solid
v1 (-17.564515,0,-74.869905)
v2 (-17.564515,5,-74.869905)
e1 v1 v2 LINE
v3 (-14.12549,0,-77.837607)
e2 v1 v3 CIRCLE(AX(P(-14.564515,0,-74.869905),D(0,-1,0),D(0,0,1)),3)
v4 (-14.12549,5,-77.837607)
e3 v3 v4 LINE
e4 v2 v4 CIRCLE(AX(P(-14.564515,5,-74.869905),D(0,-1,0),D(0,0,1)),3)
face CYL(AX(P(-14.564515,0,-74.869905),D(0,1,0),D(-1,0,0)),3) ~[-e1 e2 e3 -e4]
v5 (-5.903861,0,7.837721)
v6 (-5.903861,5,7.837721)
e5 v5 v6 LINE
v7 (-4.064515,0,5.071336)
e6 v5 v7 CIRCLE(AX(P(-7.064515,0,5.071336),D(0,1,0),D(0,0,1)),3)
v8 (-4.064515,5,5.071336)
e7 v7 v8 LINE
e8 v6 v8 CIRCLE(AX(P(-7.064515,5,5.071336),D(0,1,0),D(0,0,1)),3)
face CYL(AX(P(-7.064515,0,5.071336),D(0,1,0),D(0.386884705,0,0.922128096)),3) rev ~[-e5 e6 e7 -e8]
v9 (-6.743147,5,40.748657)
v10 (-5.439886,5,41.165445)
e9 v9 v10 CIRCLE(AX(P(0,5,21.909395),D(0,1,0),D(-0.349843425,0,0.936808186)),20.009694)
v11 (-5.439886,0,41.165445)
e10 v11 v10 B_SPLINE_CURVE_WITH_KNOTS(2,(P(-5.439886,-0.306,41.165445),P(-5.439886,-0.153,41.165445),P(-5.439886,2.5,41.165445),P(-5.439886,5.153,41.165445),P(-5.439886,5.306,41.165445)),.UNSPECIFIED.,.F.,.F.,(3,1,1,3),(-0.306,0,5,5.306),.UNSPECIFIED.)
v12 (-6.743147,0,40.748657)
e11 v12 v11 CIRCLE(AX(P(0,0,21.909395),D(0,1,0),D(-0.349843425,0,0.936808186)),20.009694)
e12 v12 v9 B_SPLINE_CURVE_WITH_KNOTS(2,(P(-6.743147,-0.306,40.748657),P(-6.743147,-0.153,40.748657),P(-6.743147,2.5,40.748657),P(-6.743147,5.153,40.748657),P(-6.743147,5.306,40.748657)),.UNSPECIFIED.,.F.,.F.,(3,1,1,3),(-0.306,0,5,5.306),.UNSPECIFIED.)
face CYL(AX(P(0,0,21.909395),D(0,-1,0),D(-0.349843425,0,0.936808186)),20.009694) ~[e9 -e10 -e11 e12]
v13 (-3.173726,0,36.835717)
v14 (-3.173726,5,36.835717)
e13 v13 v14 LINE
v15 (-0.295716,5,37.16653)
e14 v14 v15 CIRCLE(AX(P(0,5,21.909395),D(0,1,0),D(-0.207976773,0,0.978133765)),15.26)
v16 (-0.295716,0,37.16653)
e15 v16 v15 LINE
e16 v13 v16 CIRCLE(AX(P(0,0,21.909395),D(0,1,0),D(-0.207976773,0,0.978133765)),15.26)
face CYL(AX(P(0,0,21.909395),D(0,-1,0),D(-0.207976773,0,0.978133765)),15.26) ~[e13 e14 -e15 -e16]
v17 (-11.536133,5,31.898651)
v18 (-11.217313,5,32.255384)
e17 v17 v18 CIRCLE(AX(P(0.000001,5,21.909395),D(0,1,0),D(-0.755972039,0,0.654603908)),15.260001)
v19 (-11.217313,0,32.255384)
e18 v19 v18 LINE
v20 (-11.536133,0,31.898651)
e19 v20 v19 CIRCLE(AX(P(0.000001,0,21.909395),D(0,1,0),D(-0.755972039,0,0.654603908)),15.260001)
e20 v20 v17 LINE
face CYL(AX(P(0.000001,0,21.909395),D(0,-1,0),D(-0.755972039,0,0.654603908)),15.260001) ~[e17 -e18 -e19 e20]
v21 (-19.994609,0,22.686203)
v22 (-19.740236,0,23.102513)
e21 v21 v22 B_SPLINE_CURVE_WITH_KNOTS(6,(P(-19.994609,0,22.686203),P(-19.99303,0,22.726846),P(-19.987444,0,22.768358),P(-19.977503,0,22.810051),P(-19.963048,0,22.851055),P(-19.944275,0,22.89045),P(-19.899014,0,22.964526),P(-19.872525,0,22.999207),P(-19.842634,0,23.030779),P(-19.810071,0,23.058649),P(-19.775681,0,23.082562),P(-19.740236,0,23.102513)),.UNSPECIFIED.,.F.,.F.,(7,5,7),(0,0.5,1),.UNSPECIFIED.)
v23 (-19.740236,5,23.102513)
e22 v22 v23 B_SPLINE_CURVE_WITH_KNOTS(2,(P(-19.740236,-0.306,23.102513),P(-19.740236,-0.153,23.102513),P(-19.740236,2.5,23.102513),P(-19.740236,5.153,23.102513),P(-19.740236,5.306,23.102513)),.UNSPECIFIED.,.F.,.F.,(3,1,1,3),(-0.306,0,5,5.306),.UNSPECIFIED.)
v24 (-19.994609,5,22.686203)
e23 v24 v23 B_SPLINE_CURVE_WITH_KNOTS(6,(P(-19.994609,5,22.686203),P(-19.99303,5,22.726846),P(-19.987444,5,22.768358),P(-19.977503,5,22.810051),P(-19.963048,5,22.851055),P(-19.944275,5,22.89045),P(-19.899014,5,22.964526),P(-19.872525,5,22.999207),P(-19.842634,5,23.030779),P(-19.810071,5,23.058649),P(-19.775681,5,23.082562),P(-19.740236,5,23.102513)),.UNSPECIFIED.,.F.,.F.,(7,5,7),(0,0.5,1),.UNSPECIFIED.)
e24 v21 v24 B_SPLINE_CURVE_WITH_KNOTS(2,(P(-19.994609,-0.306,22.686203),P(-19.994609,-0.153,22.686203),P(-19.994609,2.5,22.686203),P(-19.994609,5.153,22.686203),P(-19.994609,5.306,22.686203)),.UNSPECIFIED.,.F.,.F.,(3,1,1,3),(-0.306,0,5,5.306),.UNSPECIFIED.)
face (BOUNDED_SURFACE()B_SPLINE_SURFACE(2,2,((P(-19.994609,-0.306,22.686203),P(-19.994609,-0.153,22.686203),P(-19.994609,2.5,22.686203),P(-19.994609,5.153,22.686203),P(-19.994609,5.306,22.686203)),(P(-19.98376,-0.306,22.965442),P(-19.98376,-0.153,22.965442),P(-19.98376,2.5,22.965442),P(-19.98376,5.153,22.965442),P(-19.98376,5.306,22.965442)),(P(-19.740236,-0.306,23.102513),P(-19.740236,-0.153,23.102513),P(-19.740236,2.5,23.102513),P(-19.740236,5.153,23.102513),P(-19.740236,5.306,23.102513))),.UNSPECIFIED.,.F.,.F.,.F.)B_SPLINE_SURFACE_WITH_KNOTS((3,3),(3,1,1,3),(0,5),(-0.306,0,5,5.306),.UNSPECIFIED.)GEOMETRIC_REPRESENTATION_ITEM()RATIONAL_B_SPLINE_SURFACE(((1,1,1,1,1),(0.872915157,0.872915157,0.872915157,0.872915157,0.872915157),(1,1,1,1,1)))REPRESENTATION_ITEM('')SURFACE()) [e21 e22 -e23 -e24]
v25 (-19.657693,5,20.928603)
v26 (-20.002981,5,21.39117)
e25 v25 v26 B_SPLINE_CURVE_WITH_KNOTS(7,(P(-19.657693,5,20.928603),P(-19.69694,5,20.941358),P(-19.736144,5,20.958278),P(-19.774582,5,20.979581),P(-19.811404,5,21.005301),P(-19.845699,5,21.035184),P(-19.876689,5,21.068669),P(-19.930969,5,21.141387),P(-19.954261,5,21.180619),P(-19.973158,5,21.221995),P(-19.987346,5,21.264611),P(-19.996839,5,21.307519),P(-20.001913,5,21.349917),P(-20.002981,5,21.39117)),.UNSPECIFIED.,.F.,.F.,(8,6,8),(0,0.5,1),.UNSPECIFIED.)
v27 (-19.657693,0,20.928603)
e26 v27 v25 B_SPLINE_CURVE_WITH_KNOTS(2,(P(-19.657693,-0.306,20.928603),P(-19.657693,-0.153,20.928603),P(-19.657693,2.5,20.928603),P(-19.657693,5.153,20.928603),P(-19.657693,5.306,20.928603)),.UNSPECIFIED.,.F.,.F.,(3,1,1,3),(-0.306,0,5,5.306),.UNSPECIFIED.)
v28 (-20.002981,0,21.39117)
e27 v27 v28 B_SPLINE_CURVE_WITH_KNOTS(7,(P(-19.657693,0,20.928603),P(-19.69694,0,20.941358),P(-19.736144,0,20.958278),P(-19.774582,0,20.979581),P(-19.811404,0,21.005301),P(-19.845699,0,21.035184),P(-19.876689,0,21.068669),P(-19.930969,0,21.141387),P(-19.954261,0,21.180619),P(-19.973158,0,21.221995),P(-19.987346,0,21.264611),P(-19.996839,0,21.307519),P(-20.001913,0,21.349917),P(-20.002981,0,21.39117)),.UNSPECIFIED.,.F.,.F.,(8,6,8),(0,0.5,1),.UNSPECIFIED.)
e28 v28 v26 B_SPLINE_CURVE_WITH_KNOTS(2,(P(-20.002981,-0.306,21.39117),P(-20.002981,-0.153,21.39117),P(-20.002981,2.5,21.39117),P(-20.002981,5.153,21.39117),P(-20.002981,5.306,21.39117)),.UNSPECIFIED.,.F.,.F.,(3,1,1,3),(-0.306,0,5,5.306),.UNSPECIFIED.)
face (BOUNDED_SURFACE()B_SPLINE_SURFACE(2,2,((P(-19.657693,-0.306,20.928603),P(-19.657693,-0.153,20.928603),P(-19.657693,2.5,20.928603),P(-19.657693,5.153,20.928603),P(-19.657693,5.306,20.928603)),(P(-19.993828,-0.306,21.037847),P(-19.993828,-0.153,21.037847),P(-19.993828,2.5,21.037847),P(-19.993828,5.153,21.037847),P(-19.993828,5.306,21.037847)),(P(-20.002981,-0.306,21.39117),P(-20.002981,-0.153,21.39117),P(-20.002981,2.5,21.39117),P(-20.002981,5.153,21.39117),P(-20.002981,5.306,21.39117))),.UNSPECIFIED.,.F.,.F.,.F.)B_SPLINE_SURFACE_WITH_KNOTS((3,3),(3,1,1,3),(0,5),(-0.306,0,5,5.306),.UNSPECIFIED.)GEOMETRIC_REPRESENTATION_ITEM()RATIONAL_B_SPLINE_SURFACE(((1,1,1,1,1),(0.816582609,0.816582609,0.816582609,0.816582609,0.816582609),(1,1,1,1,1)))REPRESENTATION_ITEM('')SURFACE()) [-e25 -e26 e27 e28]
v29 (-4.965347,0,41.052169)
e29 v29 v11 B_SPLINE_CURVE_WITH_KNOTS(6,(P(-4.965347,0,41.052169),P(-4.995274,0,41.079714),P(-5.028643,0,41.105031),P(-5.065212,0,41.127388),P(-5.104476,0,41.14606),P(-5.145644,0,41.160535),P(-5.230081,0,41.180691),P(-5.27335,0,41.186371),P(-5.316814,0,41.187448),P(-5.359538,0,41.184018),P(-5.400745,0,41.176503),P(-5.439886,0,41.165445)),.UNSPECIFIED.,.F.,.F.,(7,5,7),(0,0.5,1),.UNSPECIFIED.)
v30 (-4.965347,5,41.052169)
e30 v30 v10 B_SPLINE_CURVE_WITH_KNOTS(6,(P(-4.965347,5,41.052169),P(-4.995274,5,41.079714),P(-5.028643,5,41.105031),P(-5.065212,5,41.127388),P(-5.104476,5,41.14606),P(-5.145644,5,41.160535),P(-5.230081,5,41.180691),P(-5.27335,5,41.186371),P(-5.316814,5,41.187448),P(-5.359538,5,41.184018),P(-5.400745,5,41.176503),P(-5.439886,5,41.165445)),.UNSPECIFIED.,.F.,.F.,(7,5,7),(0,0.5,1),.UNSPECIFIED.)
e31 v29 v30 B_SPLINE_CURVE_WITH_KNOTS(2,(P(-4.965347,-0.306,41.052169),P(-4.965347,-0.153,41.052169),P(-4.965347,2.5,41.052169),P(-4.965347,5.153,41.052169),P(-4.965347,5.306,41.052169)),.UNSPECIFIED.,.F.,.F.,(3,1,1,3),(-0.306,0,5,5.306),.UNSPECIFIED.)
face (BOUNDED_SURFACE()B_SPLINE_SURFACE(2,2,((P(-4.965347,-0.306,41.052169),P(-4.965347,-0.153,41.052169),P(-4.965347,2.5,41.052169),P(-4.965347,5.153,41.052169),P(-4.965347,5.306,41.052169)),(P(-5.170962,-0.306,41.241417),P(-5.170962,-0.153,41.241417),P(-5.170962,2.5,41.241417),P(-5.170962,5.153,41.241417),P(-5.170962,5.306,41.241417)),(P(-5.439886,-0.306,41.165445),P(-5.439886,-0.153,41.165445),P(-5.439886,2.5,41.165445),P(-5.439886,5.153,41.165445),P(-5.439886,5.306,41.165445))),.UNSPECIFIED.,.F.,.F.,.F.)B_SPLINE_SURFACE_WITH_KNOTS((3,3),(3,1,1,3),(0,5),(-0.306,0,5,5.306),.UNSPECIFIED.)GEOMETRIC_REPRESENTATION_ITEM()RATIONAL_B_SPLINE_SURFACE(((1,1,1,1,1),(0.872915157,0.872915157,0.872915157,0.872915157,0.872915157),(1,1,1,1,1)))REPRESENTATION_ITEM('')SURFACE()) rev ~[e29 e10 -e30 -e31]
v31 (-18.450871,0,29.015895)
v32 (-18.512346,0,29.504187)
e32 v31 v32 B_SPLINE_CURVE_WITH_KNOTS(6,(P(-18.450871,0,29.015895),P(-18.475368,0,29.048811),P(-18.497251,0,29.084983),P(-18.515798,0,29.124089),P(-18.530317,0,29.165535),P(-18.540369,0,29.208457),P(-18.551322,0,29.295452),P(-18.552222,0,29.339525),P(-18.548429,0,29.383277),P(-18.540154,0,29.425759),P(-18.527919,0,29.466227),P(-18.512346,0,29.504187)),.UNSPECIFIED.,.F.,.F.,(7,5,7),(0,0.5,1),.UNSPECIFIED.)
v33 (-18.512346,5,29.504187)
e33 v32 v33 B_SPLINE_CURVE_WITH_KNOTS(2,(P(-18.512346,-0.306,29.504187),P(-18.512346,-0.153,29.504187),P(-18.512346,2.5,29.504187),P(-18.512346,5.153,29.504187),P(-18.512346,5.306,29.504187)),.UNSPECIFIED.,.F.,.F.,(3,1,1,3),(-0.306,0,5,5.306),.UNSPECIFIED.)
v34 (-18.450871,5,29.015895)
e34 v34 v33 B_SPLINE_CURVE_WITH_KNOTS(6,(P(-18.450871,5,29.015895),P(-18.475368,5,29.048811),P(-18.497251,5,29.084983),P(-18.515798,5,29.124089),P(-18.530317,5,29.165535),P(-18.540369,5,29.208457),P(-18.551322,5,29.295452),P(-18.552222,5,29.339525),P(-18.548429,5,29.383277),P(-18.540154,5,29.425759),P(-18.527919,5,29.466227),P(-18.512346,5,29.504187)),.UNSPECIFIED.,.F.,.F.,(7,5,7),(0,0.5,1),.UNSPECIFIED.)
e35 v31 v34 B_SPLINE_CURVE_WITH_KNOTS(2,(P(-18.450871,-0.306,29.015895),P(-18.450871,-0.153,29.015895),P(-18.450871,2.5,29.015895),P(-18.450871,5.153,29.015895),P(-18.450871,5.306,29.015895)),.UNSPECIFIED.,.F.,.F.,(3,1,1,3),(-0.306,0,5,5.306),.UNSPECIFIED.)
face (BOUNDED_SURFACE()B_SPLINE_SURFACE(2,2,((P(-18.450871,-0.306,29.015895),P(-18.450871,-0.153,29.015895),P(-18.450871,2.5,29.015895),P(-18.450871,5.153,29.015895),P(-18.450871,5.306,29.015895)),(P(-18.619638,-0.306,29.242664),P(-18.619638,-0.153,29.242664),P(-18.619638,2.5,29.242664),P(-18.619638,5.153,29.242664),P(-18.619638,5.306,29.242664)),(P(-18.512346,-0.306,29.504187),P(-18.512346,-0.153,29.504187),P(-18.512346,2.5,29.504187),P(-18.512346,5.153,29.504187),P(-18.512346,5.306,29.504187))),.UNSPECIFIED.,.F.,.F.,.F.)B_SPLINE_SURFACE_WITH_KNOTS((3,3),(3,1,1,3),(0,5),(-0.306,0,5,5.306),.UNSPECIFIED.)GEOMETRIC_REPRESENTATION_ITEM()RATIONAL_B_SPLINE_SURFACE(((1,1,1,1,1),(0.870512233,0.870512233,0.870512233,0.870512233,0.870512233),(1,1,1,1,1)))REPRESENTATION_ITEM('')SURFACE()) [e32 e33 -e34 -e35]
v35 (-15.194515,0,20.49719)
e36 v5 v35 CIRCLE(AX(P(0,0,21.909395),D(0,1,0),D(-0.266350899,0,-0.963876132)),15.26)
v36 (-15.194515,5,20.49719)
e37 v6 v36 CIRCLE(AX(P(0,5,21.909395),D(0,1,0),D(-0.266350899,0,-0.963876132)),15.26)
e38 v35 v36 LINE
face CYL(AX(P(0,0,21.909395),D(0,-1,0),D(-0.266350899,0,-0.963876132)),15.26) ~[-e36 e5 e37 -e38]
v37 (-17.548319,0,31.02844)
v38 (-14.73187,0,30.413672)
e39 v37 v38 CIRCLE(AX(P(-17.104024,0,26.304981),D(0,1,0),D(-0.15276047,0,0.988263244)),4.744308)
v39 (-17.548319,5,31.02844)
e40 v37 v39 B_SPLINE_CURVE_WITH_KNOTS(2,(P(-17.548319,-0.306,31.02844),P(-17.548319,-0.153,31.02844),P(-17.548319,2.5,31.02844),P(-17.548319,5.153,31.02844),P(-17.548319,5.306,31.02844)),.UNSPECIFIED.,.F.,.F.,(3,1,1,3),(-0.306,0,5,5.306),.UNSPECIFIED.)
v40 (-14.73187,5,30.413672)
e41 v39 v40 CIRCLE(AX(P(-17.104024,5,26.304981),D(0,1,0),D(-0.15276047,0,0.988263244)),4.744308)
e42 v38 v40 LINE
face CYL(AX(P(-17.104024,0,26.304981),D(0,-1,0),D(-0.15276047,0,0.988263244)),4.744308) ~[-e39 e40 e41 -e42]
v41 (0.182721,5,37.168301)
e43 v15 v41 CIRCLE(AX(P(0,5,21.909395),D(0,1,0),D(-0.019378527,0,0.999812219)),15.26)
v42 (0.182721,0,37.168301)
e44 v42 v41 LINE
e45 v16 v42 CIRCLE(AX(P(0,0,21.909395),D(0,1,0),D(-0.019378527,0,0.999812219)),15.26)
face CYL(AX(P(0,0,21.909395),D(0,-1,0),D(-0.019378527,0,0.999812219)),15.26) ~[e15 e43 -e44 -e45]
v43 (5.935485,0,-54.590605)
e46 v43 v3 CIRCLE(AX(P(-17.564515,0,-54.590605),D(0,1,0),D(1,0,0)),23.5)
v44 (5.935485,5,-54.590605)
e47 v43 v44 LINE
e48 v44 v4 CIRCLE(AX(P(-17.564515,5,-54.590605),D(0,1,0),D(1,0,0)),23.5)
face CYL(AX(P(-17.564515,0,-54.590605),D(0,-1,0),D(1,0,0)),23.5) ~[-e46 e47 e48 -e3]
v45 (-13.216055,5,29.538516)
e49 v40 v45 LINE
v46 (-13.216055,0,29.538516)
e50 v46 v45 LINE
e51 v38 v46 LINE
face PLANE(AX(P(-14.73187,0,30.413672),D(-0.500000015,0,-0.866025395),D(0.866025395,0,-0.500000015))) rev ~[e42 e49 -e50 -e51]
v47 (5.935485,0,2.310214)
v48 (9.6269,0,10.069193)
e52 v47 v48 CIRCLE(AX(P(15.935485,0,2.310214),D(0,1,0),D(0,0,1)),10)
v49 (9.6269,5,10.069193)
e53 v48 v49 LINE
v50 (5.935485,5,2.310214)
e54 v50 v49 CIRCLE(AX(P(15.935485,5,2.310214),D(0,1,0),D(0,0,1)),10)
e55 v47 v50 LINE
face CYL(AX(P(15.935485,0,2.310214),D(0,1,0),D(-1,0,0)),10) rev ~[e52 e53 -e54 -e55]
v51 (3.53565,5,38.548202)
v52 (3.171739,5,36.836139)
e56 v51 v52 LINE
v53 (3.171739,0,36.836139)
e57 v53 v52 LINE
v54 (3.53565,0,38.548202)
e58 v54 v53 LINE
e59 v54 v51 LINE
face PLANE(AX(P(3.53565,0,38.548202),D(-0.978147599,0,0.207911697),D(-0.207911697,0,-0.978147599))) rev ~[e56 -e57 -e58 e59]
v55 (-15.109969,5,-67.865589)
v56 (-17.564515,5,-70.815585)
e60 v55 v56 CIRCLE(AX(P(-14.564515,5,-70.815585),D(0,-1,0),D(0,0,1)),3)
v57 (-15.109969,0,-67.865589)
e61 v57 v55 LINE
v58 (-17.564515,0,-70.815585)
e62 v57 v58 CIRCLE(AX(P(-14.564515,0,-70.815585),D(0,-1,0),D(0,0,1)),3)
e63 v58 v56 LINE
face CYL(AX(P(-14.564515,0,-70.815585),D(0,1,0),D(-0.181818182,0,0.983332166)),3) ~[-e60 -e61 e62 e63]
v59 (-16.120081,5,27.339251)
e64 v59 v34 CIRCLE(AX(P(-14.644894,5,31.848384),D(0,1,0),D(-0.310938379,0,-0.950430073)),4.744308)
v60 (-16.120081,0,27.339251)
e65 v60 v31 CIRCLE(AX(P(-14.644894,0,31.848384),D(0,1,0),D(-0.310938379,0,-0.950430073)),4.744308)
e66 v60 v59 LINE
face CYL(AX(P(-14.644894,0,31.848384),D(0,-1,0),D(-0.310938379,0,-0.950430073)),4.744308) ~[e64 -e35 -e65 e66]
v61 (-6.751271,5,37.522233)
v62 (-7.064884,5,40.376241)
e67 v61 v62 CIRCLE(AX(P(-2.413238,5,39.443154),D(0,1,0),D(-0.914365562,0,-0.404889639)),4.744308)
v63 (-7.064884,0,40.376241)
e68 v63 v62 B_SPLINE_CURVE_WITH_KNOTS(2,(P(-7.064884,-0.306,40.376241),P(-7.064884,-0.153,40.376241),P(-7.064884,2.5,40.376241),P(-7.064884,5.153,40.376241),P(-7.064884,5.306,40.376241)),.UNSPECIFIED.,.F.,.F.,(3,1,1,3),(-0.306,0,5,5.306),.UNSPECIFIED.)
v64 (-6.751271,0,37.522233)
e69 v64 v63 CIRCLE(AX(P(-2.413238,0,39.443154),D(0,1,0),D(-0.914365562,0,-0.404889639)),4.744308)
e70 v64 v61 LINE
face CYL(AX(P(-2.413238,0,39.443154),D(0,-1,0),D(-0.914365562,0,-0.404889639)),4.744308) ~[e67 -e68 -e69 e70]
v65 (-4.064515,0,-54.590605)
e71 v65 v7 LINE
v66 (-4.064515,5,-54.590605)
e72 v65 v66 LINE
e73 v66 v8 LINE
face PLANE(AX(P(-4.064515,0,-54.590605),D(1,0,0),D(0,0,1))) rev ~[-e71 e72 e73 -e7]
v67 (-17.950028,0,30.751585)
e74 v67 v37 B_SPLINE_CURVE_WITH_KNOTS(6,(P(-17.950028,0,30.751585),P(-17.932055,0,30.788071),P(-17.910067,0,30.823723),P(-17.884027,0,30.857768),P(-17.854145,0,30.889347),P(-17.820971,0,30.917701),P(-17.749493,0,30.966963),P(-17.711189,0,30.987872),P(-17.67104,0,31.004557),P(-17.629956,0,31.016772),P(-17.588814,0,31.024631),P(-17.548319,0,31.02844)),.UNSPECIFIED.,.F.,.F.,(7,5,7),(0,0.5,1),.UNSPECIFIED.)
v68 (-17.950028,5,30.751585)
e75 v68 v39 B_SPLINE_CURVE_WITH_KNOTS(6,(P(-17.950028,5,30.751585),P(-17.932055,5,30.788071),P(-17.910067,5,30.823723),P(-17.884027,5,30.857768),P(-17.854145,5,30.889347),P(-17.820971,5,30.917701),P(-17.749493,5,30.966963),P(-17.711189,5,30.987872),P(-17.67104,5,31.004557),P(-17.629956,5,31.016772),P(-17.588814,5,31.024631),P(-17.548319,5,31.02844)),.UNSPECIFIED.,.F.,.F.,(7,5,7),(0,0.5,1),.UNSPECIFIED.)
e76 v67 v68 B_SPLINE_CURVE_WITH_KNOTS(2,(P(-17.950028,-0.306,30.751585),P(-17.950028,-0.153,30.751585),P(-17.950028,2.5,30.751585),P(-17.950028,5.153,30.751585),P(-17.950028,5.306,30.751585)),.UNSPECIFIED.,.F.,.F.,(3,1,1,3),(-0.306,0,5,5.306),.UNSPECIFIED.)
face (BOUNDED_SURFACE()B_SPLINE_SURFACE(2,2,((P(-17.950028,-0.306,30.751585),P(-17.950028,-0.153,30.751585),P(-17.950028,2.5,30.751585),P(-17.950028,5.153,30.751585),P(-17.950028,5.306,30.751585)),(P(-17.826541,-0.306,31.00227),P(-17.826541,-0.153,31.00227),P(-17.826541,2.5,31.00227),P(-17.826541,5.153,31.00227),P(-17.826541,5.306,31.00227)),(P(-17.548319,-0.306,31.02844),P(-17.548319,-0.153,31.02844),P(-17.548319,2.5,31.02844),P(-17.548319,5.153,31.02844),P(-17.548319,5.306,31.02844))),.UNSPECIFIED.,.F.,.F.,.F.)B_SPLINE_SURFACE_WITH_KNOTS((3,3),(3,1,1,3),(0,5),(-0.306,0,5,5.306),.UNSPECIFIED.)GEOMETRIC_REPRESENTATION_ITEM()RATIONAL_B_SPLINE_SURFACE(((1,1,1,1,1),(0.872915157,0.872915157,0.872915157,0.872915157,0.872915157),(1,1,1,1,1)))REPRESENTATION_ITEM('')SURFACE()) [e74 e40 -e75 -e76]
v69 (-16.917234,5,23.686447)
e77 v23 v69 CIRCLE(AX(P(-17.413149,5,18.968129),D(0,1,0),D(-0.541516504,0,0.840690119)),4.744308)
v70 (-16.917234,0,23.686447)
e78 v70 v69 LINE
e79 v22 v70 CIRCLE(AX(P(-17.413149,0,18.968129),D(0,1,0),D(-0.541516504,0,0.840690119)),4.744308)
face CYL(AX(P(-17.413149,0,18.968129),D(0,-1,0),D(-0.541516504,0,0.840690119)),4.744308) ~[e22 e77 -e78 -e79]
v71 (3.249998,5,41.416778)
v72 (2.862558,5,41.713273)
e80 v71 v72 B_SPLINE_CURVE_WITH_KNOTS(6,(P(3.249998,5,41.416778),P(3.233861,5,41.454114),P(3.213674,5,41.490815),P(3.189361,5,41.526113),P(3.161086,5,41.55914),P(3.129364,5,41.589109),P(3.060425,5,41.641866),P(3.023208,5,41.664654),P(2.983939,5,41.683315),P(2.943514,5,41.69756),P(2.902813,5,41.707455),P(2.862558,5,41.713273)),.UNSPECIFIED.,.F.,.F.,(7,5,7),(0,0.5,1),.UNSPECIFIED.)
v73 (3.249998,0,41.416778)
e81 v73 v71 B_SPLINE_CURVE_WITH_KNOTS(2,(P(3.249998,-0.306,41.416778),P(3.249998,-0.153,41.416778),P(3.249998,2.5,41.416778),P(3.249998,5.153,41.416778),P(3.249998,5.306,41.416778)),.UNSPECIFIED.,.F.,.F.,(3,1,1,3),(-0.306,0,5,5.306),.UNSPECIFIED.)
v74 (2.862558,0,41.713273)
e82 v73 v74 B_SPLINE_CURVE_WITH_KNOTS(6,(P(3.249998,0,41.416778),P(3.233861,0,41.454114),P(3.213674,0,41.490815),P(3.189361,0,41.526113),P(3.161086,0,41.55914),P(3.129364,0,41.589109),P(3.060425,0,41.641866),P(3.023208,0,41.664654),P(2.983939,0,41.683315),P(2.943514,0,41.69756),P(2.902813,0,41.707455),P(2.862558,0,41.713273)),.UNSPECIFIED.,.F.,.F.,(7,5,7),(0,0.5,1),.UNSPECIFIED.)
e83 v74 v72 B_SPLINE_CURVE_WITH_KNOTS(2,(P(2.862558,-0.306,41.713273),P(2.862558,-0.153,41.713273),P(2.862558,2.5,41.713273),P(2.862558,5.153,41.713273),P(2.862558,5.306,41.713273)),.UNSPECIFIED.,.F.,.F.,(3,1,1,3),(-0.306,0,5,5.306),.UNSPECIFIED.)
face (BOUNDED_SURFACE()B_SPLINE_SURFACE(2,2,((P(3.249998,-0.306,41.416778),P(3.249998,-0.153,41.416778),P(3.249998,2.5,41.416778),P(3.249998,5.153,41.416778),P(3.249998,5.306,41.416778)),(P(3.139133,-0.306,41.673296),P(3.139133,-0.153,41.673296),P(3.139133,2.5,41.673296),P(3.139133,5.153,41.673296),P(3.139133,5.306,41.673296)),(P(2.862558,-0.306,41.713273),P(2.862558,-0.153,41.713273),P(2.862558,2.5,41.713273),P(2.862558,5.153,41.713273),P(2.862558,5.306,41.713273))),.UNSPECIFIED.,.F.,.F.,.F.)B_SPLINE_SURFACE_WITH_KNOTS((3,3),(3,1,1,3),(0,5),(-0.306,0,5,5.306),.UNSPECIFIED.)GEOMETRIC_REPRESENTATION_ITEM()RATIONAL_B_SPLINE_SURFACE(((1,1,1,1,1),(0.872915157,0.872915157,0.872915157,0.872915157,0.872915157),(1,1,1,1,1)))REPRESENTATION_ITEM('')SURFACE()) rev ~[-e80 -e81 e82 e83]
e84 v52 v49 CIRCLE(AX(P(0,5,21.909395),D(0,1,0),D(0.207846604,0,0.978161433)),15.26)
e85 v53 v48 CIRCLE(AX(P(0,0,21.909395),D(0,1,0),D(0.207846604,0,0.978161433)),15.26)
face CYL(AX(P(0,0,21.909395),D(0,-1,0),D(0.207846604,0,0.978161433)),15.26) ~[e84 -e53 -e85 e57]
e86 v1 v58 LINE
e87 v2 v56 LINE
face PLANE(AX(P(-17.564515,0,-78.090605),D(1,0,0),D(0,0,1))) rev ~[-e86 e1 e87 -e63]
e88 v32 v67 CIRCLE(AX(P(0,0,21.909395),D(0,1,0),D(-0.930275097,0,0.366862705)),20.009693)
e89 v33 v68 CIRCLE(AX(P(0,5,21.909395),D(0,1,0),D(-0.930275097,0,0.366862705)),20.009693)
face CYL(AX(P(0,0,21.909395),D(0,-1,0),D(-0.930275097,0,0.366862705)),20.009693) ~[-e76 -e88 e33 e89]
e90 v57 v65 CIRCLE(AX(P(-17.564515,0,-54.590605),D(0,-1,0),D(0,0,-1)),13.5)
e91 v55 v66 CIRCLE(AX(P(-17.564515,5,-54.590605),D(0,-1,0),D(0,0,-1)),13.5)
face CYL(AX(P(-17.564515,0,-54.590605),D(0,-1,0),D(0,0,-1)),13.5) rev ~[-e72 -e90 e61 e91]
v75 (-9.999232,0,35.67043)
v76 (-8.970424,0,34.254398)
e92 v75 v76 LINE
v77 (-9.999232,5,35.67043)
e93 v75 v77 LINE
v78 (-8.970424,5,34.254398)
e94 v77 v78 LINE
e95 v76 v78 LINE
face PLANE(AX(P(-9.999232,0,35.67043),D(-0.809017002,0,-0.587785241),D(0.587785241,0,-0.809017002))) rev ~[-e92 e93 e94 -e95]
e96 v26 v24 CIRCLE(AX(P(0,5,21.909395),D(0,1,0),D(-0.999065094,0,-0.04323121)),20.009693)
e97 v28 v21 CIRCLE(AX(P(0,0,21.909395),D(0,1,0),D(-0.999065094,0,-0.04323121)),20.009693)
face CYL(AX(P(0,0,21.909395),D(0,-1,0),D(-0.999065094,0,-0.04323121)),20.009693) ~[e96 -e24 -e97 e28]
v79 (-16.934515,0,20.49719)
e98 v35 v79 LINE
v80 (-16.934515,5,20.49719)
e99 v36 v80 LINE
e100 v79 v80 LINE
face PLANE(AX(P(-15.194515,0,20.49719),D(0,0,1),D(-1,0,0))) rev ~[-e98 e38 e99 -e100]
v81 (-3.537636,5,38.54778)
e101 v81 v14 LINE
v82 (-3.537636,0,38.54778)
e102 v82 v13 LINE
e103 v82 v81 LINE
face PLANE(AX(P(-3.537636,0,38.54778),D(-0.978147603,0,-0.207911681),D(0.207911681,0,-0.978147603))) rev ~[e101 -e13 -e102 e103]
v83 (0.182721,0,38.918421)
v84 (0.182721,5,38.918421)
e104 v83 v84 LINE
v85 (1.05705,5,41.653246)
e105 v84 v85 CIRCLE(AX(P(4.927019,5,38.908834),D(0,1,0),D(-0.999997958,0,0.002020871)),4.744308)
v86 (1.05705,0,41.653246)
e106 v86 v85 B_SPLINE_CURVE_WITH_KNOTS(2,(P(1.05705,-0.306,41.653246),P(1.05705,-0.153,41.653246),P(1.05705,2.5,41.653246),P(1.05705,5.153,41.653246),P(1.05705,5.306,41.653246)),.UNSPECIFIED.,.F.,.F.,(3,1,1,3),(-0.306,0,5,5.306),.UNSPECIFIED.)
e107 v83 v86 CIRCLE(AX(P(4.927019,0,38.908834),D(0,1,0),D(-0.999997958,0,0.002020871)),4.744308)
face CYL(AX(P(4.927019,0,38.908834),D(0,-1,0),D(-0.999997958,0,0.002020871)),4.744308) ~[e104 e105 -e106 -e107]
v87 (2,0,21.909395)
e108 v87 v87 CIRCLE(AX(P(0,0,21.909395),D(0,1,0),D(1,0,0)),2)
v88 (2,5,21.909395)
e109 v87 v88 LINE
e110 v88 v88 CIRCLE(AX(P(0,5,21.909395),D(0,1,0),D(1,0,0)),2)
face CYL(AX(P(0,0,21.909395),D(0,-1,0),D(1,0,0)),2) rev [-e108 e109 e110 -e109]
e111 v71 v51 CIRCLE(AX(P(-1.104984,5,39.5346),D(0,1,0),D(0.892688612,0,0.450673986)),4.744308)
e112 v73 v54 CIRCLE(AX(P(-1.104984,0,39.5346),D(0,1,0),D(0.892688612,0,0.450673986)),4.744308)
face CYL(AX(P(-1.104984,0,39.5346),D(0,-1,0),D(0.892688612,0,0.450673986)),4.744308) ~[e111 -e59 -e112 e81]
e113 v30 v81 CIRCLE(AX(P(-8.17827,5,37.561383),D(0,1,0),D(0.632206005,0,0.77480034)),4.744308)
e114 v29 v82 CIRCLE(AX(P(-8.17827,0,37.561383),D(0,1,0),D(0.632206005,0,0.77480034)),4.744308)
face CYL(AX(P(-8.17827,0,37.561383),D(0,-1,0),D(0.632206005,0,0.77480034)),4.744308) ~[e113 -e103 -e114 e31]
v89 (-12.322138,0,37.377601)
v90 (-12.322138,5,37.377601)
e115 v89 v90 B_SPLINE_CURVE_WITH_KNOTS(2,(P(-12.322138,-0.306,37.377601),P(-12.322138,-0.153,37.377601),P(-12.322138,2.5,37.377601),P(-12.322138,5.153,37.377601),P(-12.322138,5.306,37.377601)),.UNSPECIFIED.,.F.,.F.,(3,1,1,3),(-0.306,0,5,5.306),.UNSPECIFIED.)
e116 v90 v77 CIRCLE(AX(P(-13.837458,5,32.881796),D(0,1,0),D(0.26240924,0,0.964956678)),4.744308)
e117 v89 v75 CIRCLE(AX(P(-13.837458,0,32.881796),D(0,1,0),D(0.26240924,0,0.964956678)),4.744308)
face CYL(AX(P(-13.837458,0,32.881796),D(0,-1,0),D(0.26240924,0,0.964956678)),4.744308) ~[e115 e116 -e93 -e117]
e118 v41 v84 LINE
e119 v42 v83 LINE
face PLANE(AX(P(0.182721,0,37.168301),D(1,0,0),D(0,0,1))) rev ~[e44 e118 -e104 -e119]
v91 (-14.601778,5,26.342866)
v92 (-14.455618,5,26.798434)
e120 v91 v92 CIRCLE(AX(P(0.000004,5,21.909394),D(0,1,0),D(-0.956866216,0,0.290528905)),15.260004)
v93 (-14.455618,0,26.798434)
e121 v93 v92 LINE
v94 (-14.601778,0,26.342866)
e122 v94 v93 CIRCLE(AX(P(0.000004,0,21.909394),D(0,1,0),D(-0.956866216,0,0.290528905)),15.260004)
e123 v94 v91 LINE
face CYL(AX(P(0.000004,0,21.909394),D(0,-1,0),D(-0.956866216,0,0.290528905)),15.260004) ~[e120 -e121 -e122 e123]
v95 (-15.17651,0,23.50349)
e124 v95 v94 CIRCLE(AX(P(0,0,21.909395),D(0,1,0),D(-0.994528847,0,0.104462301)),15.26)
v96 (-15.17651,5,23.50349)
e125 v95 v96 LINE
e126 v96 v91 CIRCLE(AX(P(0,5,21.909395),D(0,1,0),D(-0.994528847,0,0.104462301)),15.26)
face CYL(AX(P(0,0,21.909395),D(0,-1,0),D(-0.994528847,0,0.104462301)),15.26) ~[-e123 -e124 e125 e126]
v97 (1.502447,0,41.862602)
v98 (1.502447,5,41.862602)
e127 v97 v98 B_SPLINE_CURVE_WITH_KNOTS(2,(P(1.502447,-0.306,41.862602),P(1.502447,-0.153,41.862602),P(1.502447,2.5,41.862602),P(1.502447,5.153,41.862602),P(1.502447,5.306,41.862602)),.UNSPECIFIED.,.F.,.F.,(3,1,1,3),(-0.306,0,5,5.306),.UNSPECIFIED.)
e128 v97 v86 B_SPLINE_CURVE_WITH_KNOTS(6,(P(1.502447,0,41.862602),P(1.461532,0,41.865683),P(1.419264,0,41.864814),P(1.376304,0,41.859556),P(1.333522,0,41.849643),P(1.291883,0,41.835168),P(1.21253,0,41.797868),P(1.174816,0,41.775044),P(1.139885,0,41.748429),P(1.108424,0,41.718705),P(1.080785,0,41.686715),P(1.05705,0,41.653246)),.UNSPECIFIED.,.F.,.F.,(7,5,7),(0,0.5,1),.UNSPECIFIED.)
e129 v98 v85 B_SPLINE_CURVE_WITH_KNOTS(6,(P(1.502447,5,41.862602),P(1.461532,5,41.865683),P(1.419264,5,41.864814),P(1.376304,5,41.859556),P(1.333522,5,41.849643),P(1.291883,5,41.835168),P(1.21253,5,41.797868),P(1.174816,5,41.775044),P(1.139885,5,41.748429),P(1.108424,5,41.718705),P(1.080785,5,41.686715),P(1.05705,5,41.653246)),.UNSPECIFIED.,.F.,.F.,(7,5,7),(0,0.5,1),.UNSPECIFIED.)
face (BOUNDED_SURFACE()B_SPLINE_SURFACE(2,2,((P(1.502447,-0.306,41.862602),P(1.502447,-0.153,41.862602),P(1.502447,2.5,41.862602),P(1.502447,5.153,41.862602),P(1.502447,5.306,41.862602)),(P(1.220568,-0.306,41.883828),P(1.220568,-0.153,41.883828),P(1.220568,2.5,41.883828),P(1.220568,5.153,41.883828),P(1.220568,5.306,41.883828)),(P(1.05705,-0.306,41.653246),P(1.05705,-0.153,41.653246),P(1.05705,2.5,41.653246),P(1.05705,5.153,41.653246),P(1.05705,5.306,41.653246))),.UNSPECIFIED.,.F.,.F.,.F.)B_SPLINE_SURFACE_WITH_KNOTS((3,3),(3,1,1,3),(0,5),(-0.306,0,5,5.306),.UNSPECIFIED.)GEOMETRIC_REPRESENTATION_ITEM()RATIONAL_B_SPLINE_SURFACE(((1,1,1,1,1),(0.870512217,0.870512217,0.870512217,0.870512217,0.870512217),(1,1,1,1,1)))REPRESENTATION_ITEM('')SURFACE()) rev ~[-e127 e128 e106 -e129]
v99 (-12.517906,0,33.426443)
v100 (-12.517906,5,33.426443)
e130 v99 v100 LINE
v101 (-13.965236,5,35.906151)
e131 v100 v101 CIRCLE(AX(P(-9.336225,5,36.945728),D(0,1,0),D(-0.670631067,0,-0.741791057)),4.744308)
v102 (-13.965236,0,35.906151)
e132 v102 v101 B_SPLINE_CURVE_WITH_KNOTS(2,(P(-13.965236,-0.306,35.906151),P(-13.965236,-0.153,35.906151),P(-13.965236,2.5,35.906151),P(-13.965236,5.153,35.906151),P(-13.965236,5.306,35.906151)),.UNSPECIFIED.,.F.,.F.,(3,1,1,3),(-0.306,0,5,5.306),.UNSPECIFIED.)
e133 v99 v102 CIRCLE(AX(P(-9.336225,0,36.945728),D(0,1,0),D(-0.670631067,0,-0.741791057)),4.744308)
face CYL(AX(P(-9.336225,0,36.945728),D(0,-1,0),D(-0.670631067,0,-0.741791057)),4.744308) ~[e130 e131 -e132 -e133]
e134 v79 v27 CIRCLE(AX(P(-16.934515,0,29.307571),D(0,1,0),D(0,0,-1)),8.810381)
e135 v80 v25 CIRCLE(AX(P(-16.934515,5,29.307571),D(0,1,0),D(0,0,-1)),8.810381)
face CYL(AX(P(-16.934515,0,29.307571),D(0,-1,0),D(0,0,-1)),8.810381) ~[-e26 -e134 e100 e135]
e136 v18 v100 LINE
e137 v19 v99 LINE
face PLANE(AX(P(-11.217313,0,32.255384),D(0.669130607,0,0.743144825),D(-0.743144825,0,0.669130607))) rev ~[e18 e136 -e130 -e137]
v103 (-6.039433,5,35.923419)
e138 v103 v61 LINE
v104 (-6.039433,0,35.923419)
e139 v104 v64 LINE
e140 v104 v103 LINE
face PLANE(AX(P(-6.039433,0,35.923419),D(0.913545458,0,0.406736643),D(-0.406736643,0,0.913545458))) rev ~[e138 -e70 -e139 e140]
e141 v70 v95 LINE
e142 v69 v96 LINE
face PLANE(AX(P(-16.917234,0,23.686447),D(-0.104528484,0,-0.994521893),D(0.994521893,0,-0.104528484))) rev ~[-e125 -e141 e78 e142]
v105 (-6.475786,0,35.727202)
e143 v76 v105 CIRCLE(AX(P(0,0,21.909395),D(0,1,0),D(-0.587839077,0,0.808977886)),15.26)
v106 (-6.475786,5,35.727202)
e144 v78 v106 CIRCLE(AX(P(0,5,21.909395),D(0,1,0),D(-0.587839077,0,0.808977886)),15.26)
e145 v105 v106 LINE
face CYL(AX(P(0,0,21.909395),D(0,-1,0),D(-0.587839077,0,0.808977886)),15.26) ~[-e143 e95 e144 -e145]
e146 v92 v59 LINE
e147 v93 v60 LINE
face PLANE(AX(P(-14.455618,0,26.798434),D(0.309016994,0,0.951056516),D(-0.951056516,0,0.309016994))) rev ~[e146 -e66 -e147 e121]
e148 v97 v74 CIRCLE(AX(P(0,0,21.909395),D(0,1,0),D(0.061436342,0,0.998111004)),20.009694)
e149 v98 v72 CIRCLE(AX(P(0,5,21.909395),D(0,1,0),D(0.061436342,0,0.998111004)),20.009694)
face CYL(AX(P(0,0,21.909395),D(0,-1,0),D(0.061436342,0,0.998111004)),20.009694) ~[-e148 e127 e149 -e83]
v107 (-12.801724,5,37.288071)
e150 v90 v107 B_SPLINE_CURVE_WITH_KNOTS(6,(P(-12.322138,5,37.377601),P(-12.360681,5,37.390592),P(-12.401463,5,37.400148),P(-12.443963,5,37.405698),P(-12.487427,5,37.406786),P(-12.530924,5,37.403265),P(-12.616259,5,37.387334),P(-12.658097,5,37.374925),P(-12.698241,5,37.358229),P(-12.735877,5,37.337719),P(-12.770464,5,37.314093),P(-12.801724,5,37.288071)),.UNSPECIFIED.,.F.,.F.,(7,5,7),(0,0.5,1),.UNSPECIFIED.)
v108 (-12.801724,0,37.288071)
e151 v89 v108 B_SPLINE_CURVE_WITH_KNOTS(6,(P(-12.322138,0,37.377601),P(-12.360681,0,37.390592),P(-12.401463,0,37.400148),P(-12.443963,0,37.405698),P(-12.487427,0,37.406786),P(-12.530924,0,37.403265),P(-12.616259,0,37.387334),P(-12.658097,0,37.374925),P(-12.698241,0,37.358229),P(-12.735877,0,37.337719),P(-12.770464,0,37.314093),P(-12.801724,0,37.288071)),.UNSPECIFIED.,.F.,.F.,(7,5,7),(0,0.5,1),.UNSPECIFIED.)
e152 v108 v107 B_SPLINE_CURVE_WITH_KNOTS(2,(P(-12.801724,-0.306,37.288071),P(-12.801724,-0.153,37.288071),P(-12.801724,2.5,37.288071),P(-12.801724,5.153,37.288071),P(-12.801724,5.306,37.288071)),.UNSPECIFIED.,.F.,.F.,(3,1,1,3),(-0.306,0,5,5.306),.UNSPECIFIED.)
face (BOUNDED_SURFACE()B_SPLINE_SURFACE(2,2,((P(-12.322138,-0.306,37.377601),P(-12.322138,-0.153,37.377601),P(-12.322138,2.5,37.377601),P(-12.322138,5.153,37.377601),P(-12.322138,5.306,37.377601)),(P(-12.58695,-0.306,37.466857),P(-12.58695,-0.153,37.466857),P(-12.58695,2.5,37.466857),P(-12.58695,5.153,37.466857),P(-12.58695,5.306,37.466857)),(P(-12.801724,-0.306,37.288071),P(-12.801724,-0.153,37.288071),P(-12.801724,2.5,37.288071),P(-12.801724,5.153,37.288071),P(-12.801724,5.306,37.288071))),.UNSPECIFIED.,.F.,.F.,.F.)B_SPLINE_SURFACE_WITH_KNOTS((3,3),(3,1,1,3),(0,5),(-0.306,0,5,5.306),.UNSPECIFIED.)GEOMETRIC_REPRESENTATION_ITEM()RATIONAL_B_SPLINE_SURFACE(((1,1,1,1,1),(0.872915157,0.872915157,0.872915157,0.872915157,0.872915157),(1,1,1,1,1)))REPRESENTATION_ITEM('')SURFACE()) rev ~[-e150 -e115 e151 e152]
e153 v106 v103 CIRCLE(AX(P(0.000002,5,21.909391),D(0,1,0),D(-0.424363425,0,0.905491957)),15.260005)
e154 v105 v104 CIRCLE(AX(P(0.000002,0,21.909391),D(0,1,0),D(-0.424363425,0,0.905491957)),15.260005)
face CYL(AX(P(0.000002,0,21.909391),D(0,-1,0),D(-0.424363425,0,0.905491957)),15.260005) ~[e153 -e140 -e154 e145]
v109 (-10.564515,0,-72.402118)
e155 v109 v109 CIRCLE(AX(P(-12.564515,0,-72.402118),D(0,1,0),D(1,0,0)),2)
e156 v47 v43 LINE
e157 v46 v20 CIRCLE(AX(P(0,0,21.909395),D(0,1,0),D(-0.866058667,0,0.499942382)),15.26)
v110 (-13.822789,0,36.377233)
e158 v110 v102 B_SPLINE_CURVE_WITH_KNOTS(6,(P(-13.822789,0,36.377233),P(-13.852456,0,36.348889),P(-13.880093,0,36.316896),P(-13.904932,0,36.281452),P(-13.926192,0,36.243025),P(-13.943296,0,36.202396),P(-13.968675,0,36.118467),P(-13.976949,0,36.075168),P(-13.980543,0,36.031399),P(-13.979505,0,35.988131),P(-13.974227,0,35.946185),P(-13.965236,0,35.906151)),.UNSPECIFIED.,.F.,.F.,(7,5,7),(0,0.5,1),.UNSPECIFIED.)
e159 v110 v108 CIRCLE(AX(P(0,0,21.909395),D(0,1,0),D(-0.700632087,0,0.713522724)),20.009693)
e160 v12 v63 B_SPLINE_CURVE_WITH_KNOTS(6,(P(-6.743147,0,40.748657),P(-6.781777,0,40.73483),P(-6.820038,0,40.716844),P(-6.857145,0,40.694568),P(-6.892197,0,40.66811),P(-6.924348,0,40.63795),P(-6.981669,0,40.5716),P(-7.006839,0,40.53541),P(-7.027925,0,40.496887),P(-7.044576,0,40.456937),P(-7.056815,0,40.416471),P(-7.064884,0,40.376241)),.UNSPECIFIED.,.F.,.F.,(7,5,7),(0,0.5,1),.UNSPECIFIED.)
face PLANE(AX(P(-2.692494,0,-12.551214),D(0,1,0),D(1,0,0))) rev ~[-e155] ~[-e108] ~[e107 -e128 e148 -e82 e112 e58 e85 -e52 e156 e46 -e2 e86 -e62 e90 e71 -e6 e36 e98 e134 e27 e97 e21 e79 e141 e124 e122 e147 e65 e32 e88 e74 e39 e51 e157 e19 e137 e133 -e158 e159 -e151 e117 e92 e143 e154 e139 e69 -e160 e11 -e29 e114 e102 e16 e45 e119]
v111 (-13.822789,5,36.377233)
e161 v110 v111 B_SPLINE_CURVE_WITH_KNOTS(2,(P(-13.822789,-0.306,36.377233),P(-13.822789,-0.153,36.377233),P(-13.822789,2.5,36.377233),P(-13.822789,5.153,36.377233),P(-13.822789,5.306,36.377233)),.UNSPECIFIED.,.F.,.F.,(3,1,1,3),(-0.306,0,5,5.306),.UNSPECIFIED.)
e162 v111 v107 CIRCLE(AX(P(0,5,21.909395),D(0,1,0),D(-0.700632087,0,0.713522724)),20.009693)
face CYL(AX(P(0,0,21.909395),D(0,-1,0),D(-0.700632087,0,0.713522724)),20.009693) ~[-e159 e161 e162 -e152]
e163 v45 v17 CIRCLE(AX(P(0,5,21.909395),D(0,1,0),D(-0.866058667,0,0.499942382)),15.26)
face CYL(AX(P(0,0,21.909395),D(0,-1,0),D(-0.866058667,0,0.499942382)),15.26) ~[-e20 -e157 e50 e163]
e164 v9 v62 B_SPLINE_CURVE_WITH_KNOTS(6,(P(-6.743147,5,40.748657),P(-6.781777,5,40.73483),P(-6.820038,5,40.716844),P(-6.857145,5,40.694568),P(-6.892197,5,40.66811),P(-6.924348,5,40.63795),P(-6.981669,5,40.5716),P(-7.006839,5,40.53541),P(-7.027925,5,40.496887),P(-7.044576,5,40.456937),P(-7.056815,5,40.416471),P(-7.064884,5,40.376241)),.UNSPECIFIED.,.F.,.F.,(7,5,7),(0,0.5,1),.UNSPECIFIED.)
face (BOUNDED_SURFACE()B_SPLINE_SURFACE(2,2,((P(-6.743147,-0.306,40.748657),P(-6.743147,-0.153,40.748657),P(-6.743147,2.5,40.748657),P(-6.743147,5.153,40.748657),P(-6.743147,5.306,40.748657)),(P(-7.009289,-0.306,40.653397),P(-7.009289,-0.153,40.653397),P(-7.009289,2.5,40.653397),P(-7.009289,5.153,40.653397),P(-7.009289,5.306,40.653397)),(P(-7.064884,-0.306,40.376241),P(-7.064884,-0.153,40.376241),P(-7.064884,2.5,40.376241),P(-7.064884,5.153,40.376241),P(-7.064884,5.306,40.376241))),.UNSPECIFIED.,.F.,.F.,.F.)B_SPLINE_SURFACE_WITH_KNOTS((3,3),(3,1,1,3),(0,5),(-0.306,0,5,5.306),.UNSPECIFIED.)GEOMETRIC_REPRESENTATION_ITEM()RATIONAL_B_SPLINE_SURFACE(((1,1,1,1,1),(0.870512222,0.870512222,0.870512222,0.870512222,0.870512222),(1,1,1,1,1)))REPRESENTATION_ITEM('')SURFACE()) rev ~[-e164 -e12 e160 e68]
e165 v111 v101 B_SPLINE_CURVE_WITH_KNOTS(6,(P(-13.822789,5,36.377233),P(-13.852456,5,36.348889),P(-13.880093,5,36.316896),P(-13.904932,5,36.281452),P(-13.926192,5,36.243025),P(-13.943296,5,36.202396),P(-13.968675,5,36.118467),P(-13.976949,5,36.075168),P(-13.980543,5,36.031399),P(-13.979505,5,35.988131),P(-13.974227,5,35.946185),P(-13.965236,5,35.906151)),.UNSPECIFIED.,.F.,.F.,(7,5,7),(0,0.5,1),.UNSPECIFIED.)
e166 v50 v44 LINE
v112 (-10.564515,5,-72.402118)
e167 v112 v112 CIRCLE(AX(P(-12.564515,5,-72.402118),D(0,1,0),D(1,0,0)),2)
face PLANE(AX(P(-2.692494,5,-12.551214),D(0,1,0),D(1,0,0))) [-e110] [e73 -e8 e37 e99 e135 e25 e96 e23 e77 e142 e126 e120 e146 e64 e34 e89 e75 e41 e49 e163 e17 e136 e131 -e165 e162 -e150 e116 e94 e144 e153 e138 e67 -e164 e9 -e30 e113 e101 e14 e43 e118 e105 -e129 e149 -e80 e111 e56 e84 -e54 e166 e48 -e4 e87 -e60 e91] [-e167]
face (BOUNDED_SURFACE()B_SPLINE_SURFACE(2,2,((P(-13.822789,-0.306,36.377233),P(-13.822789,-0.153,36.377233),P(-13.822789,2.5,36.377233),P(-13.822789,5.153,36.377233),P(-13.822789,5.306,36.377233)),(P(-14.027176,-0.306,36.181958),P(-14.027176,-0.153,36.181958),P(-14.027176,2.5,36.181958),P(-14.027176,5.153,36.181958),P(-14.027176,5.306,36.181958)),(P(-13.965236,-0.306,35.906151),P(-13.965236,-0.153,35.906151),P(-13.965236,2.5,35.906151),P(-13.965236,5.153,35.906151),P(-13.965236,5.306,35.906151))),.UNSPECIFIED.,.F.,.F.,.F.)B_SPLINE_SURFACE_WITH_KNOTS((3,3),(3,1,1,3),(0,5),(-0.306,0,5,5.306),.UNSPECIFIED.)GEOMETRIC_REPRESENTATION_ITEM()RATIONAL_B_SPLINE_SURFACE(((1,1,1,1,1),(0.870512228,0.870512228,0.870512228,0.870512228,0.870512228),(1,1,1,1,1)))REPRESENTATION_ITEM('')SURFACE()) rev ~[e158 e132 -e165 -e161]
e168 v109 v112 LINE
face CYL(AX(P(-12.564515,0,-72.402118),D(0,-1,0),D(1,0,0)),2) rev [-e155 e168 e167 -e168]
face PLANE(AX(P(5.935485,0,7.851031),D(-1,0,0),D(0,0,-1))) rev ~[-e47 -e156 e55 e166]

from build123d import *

# Parameters (mm, degrees)
SKETCH1_R           = 2
BOSS_EXTRUDE3_DEPTH = 5
FILLET11_R          = 3
FILLET12_R          = 10
FILLET13_R          = 0.5


with BuildPart() as part:
    # Sketch1 → Boss-Extrude3 (new body)
    with BuildSketch(Plane(origin=(0, 0, 0), x_dir=(1, 0, 0), z_dir=(0, 1, 0))):
        with BuildLine():
            Line((-15.194514721, -20.497190469), (-16.934514721, -20.497190469))
            ThreePointArc((-16.934514721, -20.497190469), (-18.487045158, -20.635059579), (-19.990986096, -21.044352024))
            ThreePointArc((-19.990986096, -21.044352024), (-20.009485456, -22.000591241), (-19.982270663, -22.956622109))
            ThreePointArc((-19.982270663, -22.956622109), (-18.512106636, -23.583403018), (-16.917234096, -23.686447466))
            Line((-16.917234096, -23.686447466), (-15.176510207, -23.503489976))
            ThreePointArc((-15.176510207, -23.503489976), (-14.956675222, -24.936847382), (-14.601778477, -26.342866292))
            ThreePointArc((-14.601778477, -26.342866292), (-14.530483873, -26.571223065), (-14.455618246, -26.798434144))
            Line((-14.455618246, -26.798434144), (-16.120081178, -27.339250934))
            ThreePointArc((-16.120081178, -27.339250934), (-17.530103274, -28.082215528), (-18.614519352, -29.250205455))
            ThreePointArc((-18.614519352, -29.250205455), (-18.242481832, -30.131297816), (-17.828767099, -30.993606221))
            ThreePointArc((-17.828767099, -30.993606221), (-16.230770667, -30.968229498), (-14.731870148, -30.413672187))
            Line((-14.731870148, -30.413672187), (-13.216055258, -29.538516018))
            ThreePointArc((-13.216055258, -29.538516018), (-12.432227031, -30.758538224), (-11.536133313, -31.898650905))
            ThreePointArc((-11.536133313, -31.898650905), (-11.378121368, -32.07826709), (-11.217313126, -32.255384164))
            Line((-11.217313126, -32.255384164), (-12.517905671, -33.426442952))
            ThreePointArc((-12.517905671, -33.426442952), (-13.503834046, -34.678682508), (-14.019433156, -36.186766135))
            ThreePointArc((-14.019433156, -36.186766135), (-13.321187423, -36.84036277), (-12.592507783, -37.459847758))
            ThreePointArc((-12.592507783, -37.459847758), (-11.142987043, -36.786701267), (-9.999232057, -35.670430194))
            Line((-9.999232057, -35.670430194), (-8.970424328, -34.254397795))
            ThreePointArc((-8.970424328, -34.254397795), (-7.758133877, -35.050131881), (-6.47578593, -35.727202496))
            ThreePointArc((-6.47578593, -35.727202496), (-6.258378327, -35.827020809), (-6.03943266, -35.923418714))
            Line((-6.03943266, -35.923418714), (-6.751270551, -37.522232796))
            ThreePointArc((-6.751270551, -37.522232796), (-7.142629255, -39.067223735), (-7.000259644, -40.654639727))
            ThreePointArc((-7.000259644, -40.654639727), (-6.096538725, -40.967727841), (-5.178889508, -41.23727483))
            ThreePointArc((-5.178889508, -41.23727483), (-4.128479759, -40.032751715), (-3.537635932, -38.547780286))
            Line((-3.537635932, -38.547780286), (-3.173725562, -36.835716518))
            ThreePointArc((-3.173725562, -36.835716518), (-1.742588917, -37.069572835), (-0.295716346, -37.166529725))
            ThreePointArc((-0.295716346, -37.166529725), (-0.056504827, -37.169290654), (0.182720579, -37.168301296))
            Line((0.182720579, -37.168301296), (0.182720579, -38.918421193))
            ThreePointArc((0.182720579, -38.918421193), (0.453601009, -40.489020569), (1.229322337, -41.881290308))
            ThreePointArc((1.229322337, -41.881290308), (2.182256886, -41.799734123), (3.130205798, -41.672735992))
            ThreePointArc((3.130205798, -41.672735992), (3.59987917, -40.145109238), (3.535649575, -38.548202499))
            Line((3.535649575, -38.548202499), (3.171739177, -36.836138737))
            ThreePointArc((3.171739177, -36.836138737), (15.191099578, -23.357875025), (5.935485279, -7.851030694))
            Line((5.935485279, -7.851030694), (5.935485279, 54.590604732))
            ThreePointArc((5.935485279, 54.590604732), (-0.947505363, 71.20761409), (-17.564514721, 78.090604732))
            Line((-17.564514721, 78.090604732), (-17.564514721, 68.090604732))
            ThreePointArc((-17.564514721, 68.090604732), (-8.018573175, 64.136546278), (-4.064514721, 54.590604732))
            Line((-4.064514721, 54.590604732), (-4.064514721, -7.200645488))
            ThreePointArc((-4.064514721, -7.200645488), (-11.701584545, -12.114472137), (-15.194514721, -20.497190469))
        make_face()
        with Locations((0, -21.909395268)):
            Circle(SKETCH1_R, mode=Mode.SUBTRACT)
        with Locations((-12.564514721, 72.402117863)):
            Circle(SKETCH1_R, mode=Mode.SUBTRACT)
    extrude(amount=BOSS_EXTRUDE3_DEPTH)

    # Fillet11
    fillet11_edges = [part.edges().sort_by_distance(p)[0] for p in [
        (-4.064514721, 2.5, 7.200645488),
        (-17.564514721, 2.5, -68.090604732),
        (-17.564514721, 2.5, -78.090604732),
    ]]
    fillet(fillet11_edges, radius=FILLET11_R)

    # Fillet12
    fillet12_edges = [part.edges().sort_by_distance(p)[0] for p in [
        (5.935485279, 2.5, 7.851030694),
    ]]
    fillet(fillet12_edges, radius=FILLET12_R)

    # Fillet13
    fillet13_edges = [part.edges().sort_by_distance(p)[0] for p in [
        (3.130205798, 2.5, 41.672735992),
        (1.229322337, 2.5, 41.881290308),
        (-5.178889508, 2.5, 41.23727483),
        (-7.000259644, 2.5, 40.654639727),
        (-12.592507783, 2.5, 37.459847758),
        (-14.019433156, 2.5, 36.186766135),
        (-17.828767099, 2.5, 30.993606221),
        (-18.614519352, 2.5, 29.250205455),
        (-19.982270663, 2.5, 22.956622109),
        (-19.990986096, 2.5, 21.044352024),
    ]]
    fillet(fillet13_edges, radius=FILLET13_R)


solid = part.part
